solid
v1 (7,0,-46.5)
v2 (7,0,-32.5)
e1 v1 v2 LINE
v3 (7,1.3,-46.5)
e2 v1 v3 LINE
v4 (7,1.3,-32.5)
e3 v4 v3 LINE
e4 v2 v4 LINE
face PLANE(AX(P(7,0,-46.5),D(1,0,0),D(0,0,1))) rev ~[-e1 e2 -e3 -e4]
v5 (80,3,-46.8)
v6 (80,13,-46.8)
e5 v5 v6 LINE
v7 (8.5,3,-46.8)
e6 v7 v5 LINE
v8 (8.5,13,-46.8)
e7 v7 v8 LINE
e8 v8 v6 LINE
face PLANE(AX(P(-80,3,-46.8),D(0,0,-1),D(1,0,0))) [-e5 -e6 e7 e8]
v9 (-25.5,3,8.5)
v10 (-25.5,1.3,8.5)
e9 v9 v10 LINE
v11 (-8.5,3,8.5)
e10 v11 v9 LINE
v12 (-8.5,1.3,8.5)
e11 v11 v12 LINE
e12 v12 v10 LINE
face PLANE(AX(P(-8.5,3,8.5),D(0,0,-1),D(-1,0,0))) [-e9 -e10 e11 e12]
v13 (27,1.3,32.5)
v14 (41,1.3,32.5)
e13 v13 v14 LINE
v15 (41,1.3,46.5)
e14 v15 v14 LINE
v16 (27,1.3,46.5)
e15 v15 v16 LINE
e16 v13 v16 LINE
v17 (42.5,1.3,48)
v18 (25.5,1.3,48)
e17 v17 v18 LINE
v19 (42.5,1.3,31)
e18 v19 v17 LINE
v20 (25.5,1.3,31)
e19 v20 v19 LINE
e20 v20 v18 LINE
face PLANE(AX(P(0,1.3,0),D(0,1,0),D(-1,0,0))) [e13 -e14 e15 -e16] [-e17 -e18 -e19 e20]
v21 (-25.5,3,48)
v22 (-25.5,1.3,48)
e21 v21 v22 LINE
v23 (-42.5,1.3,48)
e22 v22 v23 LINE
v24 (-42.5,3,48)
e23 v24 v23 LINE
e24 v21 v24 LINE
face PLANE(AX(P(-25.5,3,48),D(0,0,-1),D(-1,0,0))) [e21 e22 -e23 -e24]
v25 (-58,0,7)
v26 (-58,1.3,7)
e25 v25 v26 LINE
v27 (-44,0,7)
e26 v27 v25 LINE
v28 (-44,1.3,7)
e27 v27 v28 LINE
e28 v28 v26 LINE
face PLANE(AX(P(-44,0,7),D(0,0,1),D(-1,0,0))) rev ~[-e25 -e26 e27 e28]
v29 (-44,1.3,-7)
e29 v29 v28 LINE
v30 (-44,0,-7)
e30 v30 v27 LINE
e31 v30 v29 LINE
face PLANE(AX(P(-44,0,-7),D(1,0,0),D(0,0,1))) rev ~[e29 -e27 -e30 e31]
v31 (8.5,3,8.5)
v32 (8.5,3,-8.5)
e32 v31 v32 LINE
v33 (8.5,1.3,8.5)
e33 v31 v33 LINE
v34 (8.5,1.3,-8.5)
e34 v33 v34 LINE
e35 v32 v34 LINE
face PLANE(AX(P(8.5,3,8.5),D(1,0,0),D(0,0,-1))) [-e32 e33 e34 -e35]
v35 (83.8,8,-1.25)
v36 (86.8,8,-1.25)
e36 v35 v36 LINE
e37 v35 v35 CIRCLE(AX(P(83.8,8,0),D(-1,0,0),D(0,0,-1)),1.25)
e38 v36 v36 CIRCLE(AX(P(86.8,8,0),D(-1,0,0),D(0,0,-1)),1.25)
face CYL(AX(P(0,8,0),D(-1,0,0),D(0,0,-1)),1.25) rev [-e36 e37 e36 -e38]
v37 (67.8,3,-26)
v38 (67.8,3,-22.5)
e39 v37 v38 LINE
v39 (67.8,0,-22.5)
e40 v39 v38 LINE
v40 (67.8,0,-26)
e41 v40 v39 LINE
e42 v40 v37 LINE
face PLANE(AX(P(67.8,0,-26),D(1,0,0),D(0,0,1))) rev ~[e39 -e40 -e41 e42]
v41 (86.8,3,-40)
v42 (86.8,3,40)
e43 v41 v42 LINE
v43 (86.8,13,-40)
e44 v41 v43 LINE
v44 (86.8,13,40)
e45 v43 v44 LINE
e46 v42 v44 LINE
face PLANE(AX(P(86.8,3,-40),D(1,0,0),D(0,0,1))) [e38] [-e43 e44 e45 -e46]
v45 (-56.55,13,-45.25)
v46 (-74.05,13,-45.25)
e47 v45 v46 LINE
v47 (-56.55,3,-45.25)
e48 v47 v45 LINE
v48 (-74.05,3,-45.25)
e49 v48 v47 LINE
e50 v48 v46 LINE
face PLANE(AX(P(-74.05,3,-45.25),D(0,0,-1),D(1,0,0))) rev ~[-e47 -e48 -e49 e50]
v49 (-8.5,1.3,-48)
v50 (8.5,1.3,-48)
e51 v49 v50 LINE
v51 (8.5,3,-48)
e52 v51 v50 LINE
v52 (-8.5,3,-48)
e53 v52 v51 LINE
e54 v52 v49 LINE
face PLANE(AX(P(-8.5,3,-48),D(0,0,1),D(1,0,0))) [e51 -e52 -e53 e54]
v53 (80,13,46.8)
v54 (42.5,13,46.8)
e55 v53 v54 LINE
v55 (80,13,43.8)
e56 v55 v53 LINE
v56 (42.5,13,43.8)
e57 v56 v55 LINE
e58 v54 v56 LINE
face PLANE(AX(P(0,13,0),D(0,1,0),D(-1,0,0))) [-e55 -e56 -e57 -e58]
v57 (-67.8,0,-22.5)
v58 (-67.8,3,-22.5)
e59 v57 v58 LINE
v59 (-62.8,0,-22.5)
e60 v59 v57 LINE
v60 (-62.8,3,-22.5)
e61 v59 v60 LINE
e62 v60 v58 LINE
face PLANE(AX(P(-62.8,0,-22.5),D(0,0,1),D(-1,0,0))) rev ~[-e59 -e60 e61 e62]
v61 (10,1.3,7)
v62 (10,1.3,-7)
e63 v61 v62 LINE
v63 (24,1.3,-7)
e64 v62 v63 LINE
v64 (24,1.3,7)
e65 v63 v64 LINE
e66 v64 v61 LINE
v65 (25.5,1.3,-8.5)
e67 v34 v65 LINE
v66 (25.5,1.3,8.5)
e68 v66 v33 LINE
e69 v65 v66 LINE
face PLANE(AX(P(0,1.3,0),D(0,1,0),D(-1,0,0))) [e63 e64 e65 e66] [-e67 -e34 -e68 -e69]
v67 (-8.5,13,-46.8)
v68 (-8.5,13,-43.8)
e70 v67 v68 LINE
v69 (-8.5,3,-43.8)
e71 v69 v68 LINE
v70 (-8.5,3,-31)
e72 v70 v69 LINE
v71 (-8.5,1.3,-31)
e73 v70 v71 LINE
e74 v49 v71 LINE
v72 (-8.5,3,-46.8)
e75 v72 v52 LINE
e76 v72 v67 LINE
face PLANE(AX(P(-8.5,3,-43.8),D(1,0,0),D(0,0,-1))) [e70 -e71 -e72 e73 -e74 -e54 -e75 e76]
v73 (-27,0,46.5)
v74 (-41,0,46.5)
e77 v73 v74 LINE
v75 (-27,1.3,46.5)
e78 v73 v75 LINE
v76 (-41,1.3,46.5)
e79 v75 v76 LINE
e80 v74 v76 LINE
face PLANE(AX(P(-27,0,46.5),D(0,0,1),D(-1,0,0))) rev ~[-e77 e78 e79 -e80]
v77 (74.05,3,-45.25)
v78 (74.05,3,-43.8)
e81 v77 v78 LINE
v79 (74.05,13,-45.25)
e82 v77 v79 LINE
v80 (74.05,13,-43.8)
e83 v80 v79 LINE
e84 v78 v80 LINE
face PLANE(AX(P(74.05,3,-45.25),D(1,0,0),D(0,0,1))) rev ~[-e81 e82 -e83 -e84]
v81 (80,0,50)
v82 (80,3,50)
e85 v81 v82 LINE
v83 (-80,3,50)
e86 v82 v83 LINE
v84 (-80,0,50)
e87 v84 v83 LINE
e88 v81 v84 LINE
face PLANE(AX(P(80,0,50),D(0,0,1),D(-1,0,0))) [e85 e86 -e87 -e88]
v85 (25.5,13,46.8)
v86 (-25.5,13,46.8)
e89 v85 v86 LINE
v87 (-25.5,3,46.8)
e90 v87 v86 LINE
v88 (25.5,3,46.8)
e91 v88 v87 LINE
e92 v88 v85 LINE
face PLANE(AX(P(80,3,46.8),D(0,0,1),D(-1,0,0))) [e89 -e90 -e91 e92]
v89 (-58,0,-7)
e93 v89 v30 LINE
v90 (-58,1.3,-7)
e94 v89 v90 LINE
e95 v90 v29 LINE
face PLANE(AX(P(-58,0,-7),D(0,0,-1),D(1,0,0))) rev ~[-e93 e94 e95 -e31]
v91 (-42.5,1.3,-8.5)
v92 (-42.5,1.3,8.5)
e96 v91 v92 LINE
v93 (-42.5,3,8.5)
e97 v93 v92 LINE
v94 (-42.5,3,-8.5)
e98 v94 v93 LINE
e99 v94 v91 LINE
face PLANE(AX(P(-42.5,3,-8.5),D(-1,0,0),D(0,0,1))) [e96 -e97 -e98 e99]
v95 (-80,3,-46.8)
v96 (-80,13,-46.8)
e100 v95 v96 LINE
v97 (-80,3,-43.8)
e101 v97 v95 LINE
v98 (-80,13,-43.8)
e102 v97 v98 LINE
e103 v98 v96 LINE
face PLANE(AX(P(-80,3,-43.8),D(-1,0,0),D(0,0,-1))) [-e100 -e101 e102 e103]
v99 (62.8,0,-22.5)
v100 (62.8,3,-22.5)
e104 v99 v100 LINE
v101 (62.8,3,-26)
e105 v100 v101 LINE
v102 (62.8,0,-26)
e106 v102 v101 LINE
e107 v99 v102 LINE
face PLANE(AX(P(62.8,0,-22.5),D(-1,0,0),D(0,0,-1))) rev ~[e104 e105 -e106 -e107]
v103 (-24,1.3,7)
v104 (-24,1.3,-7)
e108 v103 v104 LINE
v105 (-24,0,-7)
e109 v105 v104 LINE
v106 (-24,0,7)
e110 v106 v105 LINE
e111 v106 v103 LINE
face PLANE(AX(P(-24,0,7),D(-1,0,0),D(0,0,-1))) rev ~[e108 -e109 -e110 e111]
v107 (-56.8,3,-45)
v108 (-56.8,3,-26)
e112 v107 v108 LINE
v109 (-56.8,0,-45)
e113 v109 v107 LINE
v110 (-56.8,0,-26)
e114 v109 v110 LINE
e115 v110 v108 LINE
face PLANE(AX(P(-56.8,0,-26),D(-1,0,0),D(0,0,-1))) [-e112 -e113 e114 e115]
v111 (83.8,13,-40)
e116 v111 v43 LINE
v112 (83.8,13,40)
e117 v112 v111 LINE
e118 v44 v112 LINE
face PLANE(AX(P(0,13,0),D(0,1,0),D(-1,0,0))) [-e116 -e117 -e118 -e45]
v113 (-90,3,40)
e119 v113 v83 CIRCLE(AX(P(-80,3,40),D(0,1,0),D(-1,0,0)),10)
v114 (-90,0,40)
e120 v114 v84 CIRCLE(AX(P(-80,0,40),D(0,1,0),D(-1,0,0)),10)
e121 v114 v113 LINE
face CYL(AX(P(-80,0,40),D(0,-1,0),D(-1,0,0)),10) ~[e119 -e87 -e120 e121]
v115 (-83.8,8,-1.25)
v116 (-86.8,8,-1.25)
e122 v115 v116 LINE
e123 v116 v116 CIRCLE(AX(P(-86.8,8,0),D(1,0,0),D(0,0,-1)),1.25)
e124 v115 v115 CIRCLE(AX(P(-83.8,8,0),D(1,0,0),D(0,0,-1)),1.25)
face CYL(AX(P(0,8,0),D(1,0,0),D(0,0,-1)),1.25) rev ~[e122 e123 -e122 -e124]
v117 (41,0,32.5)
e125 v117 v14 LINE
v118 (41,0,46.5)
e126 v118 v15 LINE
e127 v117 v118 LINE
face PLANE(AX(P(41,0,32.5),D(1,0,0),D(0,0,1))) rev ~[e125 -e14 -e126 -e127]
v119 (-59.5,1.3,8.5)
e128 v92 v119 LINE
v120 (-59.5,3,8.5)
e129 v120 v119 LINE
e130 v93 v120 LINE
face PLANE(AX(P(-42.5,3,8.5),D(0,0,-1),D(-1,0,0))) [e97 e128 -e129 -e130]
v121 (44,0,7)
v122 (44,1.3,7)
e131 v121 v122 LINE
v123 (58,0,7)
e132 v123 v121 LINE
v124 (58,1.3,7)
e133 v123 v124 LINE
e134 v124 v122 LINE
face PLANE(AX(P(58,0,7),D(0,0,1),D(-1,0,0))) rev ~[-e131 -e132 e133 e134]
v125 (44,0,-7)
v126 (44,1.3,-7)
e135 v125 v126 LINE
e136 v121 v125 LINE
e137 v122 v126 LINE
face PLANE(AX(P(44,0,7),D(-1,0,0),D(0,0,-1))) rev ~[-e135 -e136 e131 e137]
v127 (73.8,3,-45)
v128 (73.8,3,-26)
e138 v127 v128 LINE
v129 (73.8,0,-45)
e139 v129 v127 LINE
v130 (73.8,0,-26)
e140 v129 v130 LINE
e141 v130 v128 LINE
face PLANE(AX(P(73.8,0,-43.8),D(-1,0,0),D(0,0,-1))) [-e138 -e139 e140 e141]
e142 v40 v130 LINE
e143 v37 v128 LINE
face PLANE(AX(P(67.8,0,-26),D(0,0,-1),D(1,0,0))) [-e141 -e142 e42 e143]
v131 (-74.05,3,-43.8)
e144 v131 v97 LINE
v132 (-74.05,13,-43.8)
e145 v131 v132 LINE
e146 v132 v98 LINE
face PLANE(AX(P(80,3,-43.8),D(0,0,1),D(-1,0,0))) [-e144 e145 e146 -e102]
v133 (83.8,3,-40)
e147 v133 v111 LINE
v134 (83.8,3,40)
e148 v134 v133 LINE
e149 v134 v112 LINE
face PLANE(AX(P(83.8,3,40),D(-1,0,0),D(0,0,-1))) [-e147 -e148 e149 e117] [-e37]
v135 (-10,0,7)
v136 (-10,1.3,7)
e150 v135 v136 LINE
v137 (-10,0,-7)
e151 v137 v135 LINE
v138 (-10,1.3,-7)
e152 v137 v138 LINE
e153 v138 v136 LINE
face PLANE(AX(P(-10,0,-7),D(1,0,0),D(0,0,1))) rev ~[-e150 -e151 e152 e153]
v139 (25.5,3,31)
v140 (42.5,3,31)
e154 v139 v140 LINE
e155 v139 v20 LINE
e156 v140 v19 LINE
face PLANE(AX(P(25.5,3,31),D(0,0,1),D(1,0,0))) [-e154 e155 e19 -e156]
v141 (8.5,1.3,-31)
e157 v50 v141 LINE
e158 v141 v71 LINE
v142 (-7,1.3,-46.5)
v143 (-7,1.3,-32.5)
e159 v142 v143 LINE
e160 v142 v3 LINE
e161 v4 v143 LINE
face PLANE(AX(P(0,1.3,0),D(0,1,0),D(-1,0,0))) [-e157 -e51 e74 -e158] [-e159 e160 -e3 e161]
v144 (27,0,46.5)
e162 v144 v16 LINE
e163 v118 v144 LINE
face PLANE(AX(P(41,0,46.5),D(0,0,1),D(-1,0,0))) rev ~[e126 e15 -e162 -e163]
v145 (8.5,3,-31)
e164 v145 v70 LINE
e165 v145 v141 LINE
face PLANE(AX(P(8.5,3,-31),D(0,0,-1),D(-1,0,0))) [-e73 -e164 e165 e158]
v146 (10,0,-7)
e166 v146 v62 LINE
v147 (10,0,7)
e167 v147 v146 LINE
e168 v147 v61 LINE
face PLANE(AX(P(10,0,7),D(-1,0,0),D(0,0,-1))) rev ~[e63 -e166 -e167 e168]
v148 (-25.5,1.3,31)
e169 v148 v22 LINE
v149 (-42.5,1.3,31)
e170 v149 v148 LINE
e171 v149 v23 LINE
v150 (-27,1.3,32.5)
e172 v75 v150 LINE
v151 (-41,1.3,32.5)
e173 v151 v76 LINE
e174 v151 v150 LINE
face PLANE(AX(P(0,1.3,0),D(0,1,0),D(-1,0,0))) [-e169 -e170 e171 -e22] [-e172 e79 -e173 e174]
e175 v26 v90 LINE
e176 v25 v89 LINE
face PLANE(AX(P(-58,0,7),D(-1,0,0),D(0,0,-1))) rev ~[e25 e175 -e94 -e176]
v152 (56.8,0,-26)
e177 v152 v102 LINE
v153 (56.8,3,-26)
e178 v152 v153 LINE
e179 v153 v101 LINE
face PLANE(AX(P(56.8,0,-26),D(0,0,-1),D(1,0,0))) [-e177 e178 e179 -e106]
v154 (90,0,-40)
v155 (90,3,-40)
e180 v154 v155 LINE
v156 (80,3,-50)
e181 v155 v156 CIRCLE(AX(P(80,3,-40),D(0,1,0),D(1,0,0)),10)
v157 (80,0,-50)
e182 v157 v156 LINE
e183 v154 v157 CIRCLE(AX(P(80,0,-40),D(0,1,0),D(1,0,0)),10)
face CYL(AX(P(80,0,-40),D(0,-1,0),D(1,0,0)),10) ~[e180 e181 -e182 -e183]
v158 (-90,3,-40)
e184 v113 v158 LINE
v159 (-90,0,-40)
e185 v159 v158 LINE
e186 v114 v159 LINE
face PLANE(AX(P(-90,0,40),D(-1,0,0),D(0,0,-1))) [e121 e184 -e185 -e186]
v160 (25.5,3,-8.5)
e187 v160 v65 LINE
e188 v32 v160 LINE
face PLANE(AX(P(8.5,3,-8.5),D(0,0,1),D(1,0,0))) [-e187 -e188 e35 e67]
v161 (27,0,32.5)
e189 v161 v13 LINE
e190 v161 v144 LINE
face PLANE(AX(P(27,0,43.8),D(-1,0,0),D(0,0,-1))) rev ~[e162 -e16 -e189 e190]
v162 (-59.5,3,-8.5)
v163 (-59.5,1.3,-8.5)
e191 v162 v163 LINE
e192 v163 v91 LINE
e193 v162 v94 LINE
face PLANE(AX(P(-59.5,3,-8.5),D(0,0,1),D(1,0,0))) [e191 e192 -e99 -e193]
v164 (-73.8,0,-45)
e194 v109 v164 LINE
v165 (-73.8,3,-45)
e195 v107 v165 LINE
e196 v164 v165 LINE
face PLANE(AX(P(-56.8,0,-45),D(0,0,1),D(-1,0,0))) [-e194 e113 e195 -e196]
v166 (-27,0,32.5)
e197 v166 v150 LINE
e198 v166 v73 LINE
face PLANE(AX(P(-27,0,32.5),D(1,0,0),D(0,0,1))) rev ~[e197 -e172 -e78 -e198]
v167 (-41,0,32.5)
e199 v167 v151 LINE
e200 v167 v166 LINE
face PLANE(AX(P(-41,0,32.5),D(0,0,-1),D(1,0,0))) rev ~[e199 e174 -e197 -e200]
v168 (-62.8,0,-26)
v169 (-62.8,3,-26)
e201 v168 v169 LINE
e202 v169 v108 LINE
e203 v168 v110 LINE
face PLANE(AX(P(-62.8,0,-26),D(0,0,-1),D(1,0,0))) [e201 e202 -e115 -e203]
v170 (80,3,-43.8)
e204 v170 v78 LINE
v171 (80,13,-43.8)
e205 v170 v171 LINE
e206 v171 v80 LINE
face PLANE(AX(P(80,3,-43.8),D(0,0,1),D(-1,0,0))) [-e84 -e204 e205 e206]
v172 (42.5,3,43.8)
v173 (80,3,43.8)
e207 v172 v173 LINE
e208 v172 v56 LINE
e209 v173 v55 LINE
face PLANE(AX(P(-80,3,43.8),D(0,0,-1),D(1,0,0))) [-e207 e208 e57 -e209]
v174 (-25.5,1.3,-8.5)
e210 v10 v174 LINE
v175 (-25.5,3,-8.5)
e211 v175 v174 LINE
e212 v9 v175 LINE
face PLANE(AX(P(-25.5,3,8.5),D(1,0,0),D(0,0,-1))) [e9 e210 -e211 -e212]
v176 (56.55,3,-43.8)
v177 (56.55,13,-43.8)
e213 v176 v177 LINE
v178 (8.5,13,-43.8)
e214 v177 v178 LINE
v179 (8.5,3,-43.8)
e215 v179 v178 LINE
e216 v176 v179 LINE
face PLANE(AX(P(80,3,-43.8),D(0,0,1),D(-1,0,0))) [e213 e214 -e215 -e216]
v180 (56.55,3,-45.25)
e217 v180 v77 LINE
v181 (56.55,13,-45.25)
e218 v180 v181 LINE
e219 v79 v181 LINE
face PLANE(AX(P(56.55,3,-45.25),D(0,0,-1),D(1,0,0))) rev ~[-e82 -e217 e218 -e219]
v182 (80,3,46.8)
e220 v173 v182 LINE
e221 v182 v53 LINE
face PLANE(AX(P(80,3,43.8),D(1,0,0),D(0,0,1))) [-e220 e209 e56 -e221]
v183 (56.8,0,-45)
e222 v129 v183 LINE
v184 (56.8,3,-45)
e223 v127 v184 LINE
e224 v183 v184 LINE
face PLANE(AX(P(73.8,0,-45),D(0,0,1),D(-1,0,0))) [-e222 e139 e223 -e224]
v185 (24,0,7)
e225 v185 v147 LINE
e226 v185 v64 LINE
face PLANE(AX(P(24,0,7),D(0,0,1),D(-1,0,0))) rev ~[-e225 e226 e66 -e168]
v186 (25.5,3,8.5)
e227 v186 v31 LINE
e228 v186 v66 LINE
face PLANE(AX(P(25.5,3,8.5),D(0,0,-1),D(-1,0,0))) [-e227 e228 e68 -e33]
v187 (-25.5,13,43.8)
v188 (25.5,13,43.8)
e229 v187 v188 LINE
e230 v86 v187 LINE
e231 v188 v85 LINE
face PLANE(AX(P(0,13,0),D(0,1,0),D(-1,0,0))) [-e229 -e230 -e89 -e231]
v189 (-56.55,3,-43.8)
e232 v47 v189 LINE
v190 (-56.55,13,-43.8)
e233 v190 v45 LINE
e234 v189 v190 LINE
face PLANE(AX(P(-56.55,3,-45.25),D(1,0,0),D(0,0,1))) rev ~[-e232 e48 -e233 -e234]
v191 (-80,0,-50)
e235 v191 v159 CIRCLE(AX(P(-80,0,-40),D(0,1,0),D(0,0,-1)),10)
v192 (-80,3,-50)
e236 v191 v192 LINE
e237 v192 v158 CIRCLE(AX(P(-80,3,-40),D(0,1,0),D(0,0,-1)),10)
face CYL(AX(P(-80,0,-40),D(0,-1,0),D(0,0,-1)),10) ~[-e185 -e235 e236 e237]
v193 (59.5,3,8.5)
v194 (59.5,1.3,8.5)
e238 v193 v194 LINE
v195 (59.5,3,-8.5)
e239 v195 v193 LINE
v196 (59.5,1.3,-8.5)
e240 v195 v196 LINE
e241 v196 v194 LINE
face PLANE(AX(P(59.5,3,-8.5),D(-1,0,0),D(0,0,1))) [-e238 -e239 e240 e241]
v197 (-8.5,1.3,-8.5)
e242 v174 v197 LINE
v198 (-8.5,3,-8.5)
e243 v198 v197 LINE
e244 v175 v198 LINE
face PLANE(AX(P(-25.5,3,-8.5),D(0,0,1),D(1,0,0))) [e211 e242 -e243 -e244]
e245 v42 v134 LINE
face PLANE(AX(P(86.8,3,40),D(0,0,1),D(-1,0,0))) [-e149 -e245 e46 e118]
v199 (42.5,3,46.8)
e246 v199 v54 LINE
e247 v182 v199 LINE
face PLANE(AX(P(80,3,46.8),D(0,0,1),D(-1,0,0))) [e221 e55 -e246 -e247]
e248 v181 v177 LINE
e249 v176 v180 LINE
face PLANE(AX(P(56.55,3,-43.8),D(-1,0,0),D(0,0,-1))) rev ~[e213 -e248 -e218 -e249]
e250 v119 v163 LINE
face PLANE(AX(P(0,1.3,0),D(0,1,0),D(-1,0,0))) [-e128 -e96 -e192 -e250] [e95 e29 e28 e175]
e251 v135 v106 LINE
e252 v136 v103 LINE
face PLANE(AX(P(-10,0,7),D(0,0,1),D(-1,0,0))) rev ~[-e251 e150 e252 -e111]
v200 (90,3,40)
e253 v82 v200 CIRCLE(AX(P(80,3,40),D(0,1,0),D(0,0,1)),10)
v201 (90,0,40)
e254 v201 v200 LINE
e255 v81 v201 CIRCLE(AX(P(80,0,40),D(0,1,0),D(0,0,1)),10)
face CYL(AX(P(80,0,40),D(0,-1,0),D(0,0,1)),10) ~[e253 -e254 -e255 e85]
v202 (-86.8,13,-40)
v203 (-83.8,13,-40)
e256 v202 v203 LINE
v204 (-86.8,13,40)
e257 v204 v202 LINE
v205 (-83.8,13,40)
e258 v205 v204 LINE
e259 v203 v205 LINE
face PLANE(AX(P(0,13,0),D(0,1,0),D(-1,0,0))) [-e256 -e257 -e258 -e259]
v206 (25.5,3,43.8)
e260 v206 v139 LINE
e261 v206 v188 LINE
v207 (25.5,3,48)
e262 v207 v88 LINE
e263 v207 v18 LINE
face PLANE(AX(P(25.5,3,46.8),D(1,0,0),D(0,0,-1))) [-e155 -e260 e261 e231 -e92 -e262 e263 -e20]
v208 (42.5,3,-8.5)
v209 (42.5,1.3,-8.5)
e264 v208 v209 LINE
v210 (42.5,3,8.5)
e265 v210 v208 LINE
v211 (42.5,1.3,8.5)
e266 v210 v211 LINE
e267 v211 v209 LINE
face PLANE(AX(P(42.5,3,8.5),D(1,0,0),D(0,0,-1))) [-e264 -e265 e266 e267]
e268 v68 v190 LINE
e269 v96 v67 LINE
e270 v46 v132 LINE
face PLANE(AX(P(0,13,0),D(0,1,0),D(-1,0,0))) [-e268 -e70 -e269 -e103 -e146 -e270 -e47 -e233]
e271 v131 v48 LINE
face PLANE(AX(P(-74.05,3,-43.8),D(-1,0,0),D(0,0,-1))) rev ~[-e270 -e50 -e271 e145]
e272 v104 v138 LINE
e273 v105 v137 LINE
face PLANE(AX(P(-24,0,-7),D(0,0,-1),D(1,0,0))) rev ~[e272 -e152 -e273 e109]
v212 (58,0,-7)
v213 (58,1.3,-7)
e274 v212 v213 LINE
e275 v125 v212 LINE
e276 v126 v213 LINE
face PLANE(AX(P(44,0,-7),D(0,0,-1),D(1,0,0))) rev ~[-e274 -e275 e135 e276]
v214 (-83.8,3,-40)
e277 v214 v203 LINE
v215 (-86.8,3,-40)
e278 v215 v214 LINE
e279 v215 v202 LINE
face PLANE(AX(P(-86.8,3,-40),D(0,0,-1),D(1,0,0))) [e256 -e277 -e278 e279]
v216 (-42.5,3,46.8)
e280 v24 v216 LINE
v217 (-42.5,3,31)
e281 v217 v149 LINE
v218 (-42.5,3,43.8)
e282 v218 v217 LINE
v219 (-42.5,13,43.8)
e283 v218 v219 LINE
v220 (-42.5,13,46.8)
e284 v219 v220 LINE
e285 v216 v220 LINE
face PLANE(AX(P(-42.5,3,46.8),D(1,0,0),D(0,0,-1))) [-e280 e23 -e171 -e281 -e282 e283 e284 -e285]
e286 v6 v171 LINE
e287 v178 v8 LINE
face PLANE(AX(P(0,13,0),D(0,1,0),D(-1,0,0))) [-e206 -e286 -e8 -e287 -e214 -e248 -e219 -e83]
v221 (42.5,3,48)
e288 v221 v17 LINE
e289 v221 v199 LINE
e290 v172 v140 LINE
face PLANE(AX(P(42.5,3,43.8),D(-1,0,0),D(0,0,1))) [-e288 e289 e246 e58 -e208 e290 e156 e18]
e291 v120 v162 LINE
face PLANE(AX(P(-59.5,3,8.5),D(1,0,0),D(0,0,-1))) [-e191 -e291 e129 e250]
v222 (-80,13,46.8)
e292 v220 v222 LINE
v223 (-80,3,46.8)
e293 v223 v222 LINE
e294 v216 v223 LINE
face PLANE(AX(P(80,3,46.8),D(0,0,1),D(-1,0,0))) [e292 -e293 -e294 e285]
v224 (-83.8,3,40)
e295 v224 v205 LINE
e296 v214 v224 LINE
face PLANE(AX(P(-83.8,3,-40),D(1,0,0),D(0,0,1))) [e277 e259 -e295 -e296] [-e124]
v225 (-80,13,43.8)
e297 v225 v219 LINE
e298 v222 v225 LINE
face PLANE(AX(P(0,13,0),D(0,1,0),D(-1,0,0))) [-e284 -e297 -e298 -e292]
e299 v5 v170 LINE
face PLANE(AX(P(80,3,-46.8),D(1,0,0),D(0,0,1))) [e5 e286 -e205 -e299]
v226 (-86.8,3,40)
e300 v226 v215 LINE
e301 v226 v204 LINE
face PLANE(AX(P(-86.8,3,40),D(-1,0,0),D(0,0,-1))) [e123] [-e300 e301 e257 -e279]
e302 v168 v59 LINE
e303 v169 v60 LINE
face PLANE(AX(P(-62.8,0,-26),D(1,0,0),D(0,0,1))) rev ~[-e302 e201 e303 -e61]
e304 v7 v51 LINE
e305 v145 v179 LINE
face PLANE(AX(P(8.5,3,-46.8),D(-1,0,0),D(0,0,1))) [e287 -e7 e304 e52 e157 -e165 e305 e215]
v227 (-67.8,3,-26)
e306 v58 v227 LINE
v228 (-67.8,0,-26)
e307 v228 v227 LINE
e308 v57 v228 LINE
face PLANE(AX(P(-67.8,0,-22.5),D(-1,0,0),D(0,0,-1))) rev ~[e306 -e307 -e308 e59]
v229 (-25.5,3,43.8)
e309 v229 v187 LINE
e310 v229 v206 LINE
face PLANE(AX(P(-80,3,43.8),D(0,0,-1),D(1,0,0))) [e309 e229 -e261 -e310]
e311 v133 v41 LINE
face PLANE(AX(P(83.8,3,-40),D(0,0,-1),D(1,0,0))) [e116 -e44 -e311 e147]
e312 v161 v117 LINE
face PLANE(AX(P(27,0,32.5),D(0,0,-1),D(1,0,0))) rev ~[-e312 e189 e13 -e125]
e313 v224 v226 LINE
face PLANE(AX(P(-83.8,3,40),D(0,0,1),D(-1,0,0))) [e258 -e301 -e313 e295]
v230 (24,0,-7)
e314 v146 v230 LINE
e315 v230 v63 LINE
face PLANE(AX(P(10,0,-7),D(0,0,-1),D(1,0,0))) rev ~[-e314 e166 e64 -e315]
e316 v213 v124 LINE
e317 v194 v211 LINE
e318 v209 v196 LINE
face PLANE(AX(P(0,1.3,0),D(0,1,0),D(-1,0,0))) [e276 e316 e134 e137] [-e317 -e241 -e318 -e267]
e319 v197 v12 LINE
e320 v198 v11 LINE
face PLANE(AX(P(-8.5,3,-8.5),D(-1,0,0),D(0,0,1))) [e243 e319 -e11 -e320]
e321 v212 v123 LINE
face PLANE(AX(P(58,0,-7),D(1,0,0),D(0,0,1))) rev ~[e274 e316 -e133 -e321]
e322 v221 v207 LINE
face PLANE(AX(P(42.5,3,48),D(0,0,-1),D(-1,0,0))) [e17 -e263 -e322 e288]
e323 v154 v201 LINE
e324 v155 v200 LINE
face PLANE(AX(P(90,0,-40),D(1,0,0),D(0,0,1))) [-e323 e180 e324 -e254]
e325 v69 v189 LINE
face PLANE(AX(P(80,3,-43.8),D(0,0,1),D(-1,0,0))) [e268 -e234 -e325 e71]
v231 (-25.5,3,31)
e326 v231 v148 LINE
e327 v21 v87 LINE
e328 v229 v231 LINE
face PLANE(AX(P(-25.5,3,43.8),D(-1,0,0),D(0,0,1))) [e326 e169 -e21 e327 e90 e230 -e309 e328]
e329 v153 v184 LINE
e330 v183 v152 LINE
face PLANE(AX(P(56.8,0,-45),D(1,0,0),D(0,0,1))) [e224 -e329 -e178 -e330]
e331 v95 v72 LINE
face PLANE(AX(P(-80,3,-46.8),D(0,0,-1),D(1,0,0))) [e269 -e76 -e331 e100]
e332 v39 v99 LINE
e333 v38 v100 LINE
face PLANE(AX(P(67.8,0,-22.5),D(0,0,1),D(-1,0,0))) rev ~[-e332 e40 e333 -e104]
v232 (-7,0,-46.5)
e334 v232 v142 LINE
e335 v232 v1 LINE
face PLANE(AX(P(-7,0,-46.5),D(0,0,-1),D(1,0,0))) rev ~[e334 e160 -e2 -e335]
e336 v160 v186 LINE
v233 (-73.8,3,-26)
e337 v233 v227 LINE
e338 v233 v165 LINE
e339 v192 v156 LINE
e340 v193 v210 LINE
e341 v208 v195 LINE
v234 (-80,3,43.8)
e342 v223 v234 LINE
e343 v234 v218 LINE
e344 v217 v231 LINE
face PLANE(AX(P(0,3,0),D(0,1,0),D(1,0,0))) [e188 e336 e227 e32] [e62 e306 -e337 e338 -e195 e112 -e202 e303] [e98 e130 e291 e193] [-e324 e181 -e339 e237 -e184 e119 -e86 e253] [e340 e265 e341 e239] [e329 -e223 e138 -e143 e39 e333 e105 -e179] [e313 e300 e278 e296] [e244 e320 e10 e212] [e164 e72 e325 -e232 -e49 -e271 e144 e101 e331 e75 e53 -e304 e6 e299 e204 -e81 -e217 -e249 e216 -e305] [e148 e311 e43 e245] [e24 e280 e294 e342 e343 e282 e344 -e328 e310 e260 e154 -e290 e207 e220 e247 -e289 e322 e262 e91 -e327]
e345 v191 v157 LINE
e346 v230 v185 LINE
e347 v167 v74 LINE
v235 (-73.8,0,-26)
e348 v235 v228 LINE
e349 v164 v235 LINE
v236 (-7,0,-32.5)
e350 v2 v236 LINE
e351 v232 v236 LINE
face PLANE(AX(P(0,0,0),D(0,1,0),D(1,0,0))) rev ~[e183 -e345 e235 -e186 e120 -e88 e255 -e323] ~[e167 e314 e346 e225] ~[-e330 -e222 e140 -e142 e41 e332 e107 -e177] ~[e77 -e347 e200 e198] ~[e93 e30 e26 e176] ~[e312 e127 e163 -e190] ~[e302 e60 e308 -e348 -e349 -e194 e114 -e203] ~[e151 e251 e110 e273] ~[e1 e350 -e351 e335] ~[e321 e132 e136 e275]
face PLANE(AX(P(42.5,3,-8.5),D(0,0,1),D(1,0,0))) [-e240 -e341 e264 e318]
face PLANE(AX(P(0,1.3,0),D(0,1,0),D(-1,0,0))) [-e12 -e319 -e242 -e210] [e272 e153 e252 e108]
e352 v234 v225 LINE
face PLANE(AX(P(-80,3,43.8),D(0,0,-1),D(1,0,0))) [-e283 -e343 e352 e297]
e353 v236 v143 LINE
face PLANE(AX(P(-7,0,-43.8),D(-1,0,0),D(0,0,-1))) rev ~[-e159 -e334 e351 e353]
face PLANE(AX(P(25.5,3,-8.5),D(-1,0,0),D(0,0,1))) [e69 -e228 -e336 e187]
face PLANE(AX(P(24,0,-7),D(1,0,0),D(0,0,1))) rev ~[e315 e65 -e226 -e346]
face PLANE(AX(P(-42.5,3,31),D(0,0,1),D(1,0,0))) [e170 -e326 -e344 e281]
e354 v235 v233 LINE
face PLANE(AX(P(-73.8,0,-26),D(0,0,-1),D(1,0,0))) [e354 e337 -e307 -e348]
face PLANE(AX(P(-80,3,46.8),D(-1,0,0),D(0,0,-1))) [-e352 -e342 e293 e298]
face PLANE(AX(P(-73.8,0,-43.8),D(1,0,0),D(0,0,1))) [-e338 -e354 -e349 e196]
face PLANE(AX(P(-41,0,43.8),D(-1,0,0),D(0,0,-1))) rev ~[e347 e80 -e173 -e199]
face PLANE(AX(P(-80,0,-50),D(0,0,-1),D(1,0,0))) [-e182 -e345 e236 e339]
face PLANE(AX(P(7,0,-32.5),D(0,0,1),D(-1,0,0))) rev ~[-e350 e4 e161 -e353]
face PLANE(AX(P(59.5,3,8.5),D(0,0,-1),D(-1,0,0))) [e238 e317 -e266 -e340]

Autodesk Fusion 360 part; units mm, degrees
sketch "Top" plane through (0, 0, 0) normal (0, 1, 0) x (1, 0, 0)
  line L0 (-80, 50) -> (80, 50)
  line L1 (90, 40) -> (90, -40)
  line L2 (80, -50) -> (-80, -50)
  line L3 (-90, -40) -> (-90, 40)
  line L4 (-90, 50) -> (90, -50) construction
  line L5 (90, 50) -> (-90, -50) construction
  arc A0 (-80, 50) -> (-90, 40) centre (-80, 40) ccw
  arc A1 (90, 40) -> (80, 50) centre (80, 40) ccw
  arc A2 (80, -50) -> (90, -40) centre (80, -40) ccw
  arc A3 (-90, -40) -> (-80, -50) centre (-80, -40) ccw
  dimension "d310" = 180
  dimension "d311" = 100
  dimension "d312" = 10
extrude "Extrude37" add sketch "Top" along normal blind 3
sketch "Tabs" plane through (0, 3, 0) normal (0, 1, 0) x (-1, 0, 0)
  arc A0 (80, -50) -> (90, -40) centre (80, -40) ccw
  line L0 (90, -40) -> (90, 40)
  arc A1 (90, 40) -> (80, 50) centre (80, 40) ccw
  line L1 (80, 50) -> (-80, 50)
  arc A2 (-80, 50) -> (-90, 40) centre (-80, 40) ccw
  line L2 (-90, 40) -> (-90, -40)
  arc A3 (-90, -40) -> (-80, -50) centre (-80, -40) ccw
  line L3 (-80, -50) -> (80, -50)
  line L4 (86.8, -40) -> (83.8, -40)
  line L5 (83.8, -40) -> (83.8, 40)
  line L6 (83.8, 40) -> (86.8, 40)
  line L7 (86.8, 40) -> (86.8, -40)
  line L8 (86.8, -40) -> (83.8, 40) construction
  line L9 (83.8, -40) -> (86.8, 40) construction
  line L10 (80, -46.8) -> (-80, -46.8)
  line L11 (-80, -46.8) -> (-80, -43.8)
  line L12 (-80, -43.8) -> (80, -43.8)
  line L13 (80, -43.8) -> (80, -46.8)
  line L14 (80, -46.8) -> (-80, -43.8) construction
  line L15 (-80, -46.8) -> (80, -43.8) construction
  line L16 (80, 43.8) -> (-80, 43.8)
  line L17 (-80, 43.8) -> (-80, 46.8)
  line L18 (-80, 46.8) -> (80, 46.8)
  line L19 (80, 46.8) -> (80, 43.8)
  line L20 (80, 43.8) -> (-80, 46.8) construction
  line L21 (-80, 43.8) -> (80, 46.8) construction
  line L22 (-83.8, -40) -> (-86.8, -40)
  line L23 (-86.8, -40) -> (-86.8, 40)
  line L24 (-86.8, 40) -> (-83.8, 40)
  line L25 (-83.8, 40) -> (-83.8, -40)
  line L26 (-83.8, -40) -> (-86.8, 40) construction
  line L27 (-86.8, -40) -> (-83.8, 40) construction
  point P0 (85.3, 0)
  point P1 (0, -45.3)
  point P2 (0, 45.3)
  point P3 (-85.3, 0)
  dimension "d315" = 3
  dimension "d316" = 10
  dimension "d317" = 10
  dimension "d318" = 3.2
  dimension "d319" = 3
  dimension "d320" = 10
  dimension "d321" = 10
  dimension "d322" = 3.2
  dimension "d324" = 3
  dimension "d325" = 10
  dimension "d326" = 10
  dimension "d327" = 3
  dimension "d329" = 10
  dimension "d330" = 10
  dimension "d333" = 3.2
  dimension "d334" = 3.2
extrude "Extrude38" add sketch "Tabs" along normal blind 10 contours L4 L5 L6 L7 | L10 L11 L12 L13 | L16 L17 L18 L19 | L22 L23 L24 L25
sketch "Switches" plane through (0, 3, 0) normal (0, 1, 0) x (-1, 0, 0)
  line L0 (86.8, 40) -> (86.8, -40)
  line L1 (86.8, -40) -> (83.8, -40)
  line L2 (83.8, -40) -> (83.8, 40)
  line L3 (83.8, 40) -> (86.8, 40)
  line L4 (80, -43.8) -> (80, -46.8)
  line L5 (80, -46.8) -> (-80, -46.8)
  line L6 (-80, -46.8) -> (-80, -43.8)
  line L7 (-80, -43.8) -> (80, -43.8)
  line L8 (80, 46.8) -> (80, 43.8)
  line L9 (80, 43.8) -> (-80, 43.8)
  line L10 (-80, 43.8) -> (-80, 46.8)
  line L11 (-80, 46.8) -> (80, 46.8)
  line L12 (-83.8, 40) -> (-83.8, -40)
  line L13 (-83.8, -40) -> (-86.8, -40)
  line L14 (-86.8, -40) -> (-86.8, 40)
  line L15 (-86.8, 40) -> (-83.8, 40)
  arc A0 (80, -50) -> (90, -40) centre (80, -40) ccw
  line L16 (90, -40) -> (90, 40)
  arc A1 (90, 40) -> (80, 50) centre (80, 40) ccw
  line L17 (80, 50) -> (-80, 50)
  arc A2 (-80, 50) -> (-90, 40) centre (-80, 40) ccw
  line L18 (-90, 40) -> (-90, -40)
  arc A3 (-90, -40) -> (-80, -50) centre (-80, -40) ccw
  line L19 (-80, -50) -> (80, -50)
  line L20 (-59.5, 8.5) -> (-42.5, 8.5)
  line L21 (-42.5, 8.5) -> (-42.5, -8.5)
  line L22 (-58, -7) -> (-58, 7)
  line L23 (-42.5, -8.5) -> (-59.5, -8.5)
  line L24 (-44, 7) -> (-44, -7)
  line L25 (-58, 7) -> (-44, 7)
  line L26 (-44, -7) -> (-58, 7) construction
  line L27 (-59.5, -8.5) -> (-59.5, 8.5)
  line L28 (-59.5, -8.5) -> (-42.5, 8.5) construction
  line L29 (-58, -7) -> (-44, 7) construction
  line L30 (-42.5, -8.5) -> (-59.5, 8.5) construction
  line L31 (-44, -7) -> (-58, -7)
  line L32 (24, 7) -> (24, -7)
  line L33 (8.5, -8.5) -> (8.5, 8.5)
  line L34 (25.5, -8.5) -> (8.5, 8.5) construction
  line L35 (10, 7) -> (24, 7)
  line L36 (24, -7) -> (10, 7) construction
  line L37 (8.5, -8.5) -> (25.5, 8.5) construction
  line L38 (10, -7) -> (24, 7) construction
  line L39 (24, -7) -> (10, -7)
  line L40 (25.5, 8.5) -> (25.5, -8.5)
  line L41 (10, -7) -> (10, 7)
  line L42 (25.5, -8.5) -> (8.5, -8.5)
  line L43 (8.5, 8.5) -> (25.5, 8.5)
  line L44 (-27, 32.5) -> (-41, 46.5) construction
  line L45 (-41, 46.5) -> (-27, 46.5)
  line L46 (-25.5, 31) -> (-42.5, 31)
  line L47 (-42.5, 48) -> (-25.5, 48)
  line L48 (-41, 32.5) -> (-41, 46.5)
  line L49 (-25.5, 48) -> (-25.5, 31)
  line L50 (-42.5, 31) -> (-42.5, 48)
  line L51 (-25.5, 31) -> (-42.5, 48) construction
  line L52 (-27, 32.5) -> (-41, 32.5)
  line L53 (-41, 32.5) -> (-27, 46.5) construction
  line L54 (-42.5, 31) -> (-25.5, 48) construction
  line L55 (-27, 46.5) -> (-27, 32.5)
  line L56 (25.5, 31) -> (42.5, 48) construction
  line L57 (27, 46.5) -> (41, 46.5)
  line L58 (42.5, 48) -> (42.5, 31)
  line L59 (27, 32.5) -> (41, 46.5) construction
  line L60 (41, 32.5) -> (27, 32.5)
  line L61 (25.5, 31) -> (25.5, 48)
  line L62 (41, 46.5) -> (41, 32.5)
  line L63 (25.5, 48) -> (42.5, 48)
  line L64 (42.5, 31) -> (25.5, 48) construction
  line L65 (42.5, 31) -> (25.5, 31)
  line L66 (27, 32.5) -> (27, 46.5)
  line L67 (41, 32.5) -> (27, 46.5) construction
  line L68 (-8.5, -48) -> (-8.5, -31)
  line L69 (-7, -46.5) -> (-7, -32.5)
  line L70 (7, -32.5) -> (7, -46.5)
  line L71 (-7, -46.5) -> (7, -32.5) construction
  line L72 (8.5, -31) -> (8.5, -48)
  line L73 (8.5, -48) -> (-8.5, -48)
  line L74 (7, -46.5) -> (-7, -32.5) construction
  line L75 (8.5, -48) -> (-8.5, -31) construction
  line L76 (-8.5, -48) -> (8.5, -31) construction
  line L77 (-8.5, -31) -> (8.5, -31)
  line L78 (7, -46.5) -> (-7, -46.5)
  line L79 (-7, -32.5) -> (7, -32.5)
  line L80 (42.5, -8.5) -> (42.5, 8.5)
  line L81 (44, 7) -> (58, 7)
  line L82 (42.5, 8.5) -> (59.5, 8.5)
  line L83 (59.5, -8.5) -> (42.5, -8.5)
  line L84 (58, -7) -> (44, -7)
  line L85 (58, 7) -> (58, -7)
  line L86 (42.5, -8.5) -> (59.5, 8.5) construction
  line L87 (59.5, -8.5) -> (42.5, 8.5) construction
  line L88 (44, -7) -> (44, 7)
  line L89 (44, -7) -> (58, 7) construction
  line L90 (58, -7) -> (44, 7) construction
  line L91 (59.5, 8.5) -> (59.5, -8.5)
  line L92 (-25.5, 8.5) -> (-8.5, 8.5)
  line L93 (-25.5, -8.5) -> (-8.5, 8.5) construction
  line L94 (-25.5, -8.5) -> (-25.5, 8.5)
  line L95 (-10, 7) -> (-10, -7)
  line L96 (-10, -7) -> (-24, -7)
  line L97 (-8.5, -8.5) -> (-25.5, 8.5) construction
  line L98 (-24, -7) -> (-10, 7) construction
  line L99 (-8.5, -8.5) -> (-25.5, -8.5)
  line L100 (-24, -7) -> (-24, 7)
  line L101 (-10, -7) -> (-24, 7) construction
  line L102 (-8.5, 8.5) -> (-8.5, -8.5)
  line L103 (-24, 7) -> (-10, 7)
  line L104 (80, 50) -> (-80, 50)
  point P0 (-51, 0)
  point P1 (17, 0)
  point P2 (-34, 39.5)
  point P3 (34, 39.5)
  point P4 (0, -39.5)
  point P5 (51, 0)
  point P6 (-17, 0)
  dimension "d345" = 14
  dimension "d346" = 14
  dimension "d347" = 1.5
  dimension "d348" = 1.5
  dimension "d349" = 1.5
  dimension "d350" = 1.5
  dimension "d363" = 14
  dimension "d364" = 14
  dimension "d365" = 1.5
  dimension "d366" = 1.5
  dimension "d367" = 1.5
  dimension "d368" = 1.5
  dimension "d369" = 14
  dimension "d370" = 14
  dimension "d371" = 1.5
  dimension "d372" = 1.5
  dimension "d373" = 1.5
  dimension "d374" = 1.5
  dimension "d375" = 14
  dimension "d376" = 14
  dimension "d377" = 1.5
  dimension "d378" = 1.5
  dimension "d379" = 1.5
  dimension "d380" = 1.5
  dimension "d381" = 14
  dimension "d382" = 14
  dimension "d383" = 1.5
  dimension "d384" = 1.5
  dimension "d385" = 1.5
  dimension "d386" = 1.5
  dimension "d387" = 14
  dimension "d388" = 14
  dimension "d389" = 1.5
  dimension "d390" = 1.5
  dimension "d391" = 1.5
  dimension "d392" = 1.5
  dimension "d393" = 14
  dimension "d394" = 14
  dimension "d395" = 1.5
  dimension "d396" = 1.5
  dimension "d397" = 1.5
  dimension "d398" = 1.5
  dimension "d406" = 34
  dimension "d407" = 34
  dimension "d408" = 34
  dimension "d409" = 17
  dimension "d445" = 2
  dimension "d446" = 2
  dimension "d447" = 2
  dimension "d460" = 17
  dimension "d461" = 17
extrude "Extrude40" cut sketch "Switches" against normal blind 1.7 contours L5 L7 L68 L69 L70 L72 L78 | L7 L68 L69 L70 L72 L77 L79 | L5 L68 L72 L73 | L9 L11 L57 L58 L61 L62 L66 | L11 L58 L61 L63 | L9 L58 L60 L61 L62 L65 L66 | L9 L11 L45 L48 L49 L50 L55 | L11 L47 L49 L50 | L9 L46 L48 L49 L50 L52 L55 | L20 L21 L23 L27 | L33 L40 L42 L43 | L80 L82 L83 L91 | L92 L94 L99 L102
extrude "Extrude41" cut sketch "Switches" along normal blind 3 from surface at -3 contours L7 L69 L70 L78 | L7 L69 L70 L79 | L9 L60 L62 L66 | L9 L57 L62 L66 | L9 L48 L52 L55 | L9 L45 L48 L55 | L22 L24 L25 L31 | L32 L35 L39 L41 | L81 L84 L85 L88 | L95 L96 L100 L103
sketch "Tab Holes" plane through (0, 0, 0) normal (1, 0, 0) x (0, 0, -1)
  circle A0 centre (0, 8) radius 1.25
  line L0 (-40, 3) -> (40, 3)
  dimension "d418" = 2.5
  dimension "d419" = 5
extrude "Extrude42" cut sketch "Tab Holes" along normal through all and the other way through all
sketch "Encoders" plane through (0, 3, 0) normal (0, 1, 0) x (-1, 0, 0)
  line L0 (73.8, -26) -> (56.8, -26)
  line L1 (56.8, -26) -> (56.8, -45)
  line L2 (56.8, -45) -> (73.8, -45)
  line L3 (73.8, -45) -> (73.8, -26)
  line L4 (73.8, -26) -> (56.8, -45) construction
  line L5 (56.8, -26) -> (73.8, -45) construction
  line L6 (67.8, -26) -> (62.8, -26)
  line L7 (62.8, -26) -> (62.8, -22.5)
  line L8 (62.8, -22.5) -> (67.8, -22.5)
  line L9 (67.8, -22.5) -> (67.8, -26)
  arc A0 (80, -50) -> (90, -40) centre (80, -40) ccw
  line L10 (90, -40) -> (90, 40)
  arc A1 (90, 40) -> (80, 50) centre (80, 40) ccw
  line L11 (80, 50) -> (-80, 50)
  arc A2 (-80, 50) -> (-90, 40) centre (-80, 40) ccw
  line L12 (-90, 40) -> (-90, -40)
  arc A3 (-90, -40) -> (-80, -50) centre (-80, -40) ccw
  line L13 (-80, -50) -> (80, -50)
  line L14 (-83.8, 40) -> (-83.8, -40)
  line L15 (-83.8, -40) -> (-86.8, -40)
  line L16 (-86.8, -40) -> (-86.8, 40)
  line L17 (-86.8, 40) -> (-83.8, 40)
  line L18 (80, 46.8) -> (80, 43.8)
  line L19 (80, 43.8) -> (42.5, 43.8)
  line L20 (-80, 43.8) -> (-80, 46.8)
  line L21 (-25.5, 46.8) -> (25.5, 46.8)
  line L22 (80, -43.8) -> (80, -46.8)
  line L23 (-8.5, -46.8) -> (-80, -46.8)
  line L24 (-80, -46.8) -> (-80, -43.8)
  line L25 (-80, -43.8) -> (-8.5, -43.8)
  line L26 (86.8, 40) -> (86.8, -40)
  line L27 (86.8, -40) -> (83.8, -40)
  line L28 (83.8, -40) -> (83.8, 40)
  line L29 (83.8, 40) -> (86.8, 40)
  line L30 (25.5, 48) -> (42.5, 48)
  line L31 (42.5, 48) -> (42.5, 46.8)
  line L32 (42.5, 31) -> (25.5, 31)
  line L33 (25.5, 46.8) -> (25.5, 48)
  line L34 (8.5, -48) -> (-8.5, -48)
  line L35 (-8.5, -48) -> (-8.5, -46.8)
  line L36 (-8.5, -31) -> (8.5, -31)
  line L37 (8.5, -31) -> (8.5, -43.8)
  line L38 (25.5, -8.5) -> (8.5, -8.5)
  line L39 (8.5, -8.5) -> (8.5, 8.5)
  line L40 (8.5, 8.5) -> (25.5, 8.5)
  line L41 (25.5, 8.5) -> (25.5, -8.5)
  line L42 (-25.5, 48) -> (-25.5, 46.8)
  line L43 (-25.5, 31) -> (-42.5, 31)
  line L44 (-42.5, 46.8) -> (-42.5, 48)
  line L45 (-42.5, 48) -> (-25.5, 48)
  line L46 (-25.5, -8.5) -> (-25.5, 8.5)
  line L47 (-25.5, 8.5) -> (-8.5, 8.5)
  line L48 (-8.5, 8.5) -> (-8.5, -8.5)
  line L49 (-8.5, -8.5) -> (-25.5, -8.5)
  line L50 (42.5, -8.5) -> (42.5, 8.5)
  line L51 (42.5, 8.5) -> (59.5, 8.5)
  line L52 (59.5, 8.5) -> (59.5, -8.5)
  line L53 (59.5, -8.5) -> (42.5, -8.5)
  line L54 (-42.5, 8.5) -> (-42.5, -8.5)
  line L55 (-42.5, -8.5) -> (-59.5, -8.5)
  line L56 (-59.5, -8.5) -> (-59.5, 8.5)
  line L57 (-59.5, 8.5) -> (-42.5, 8.5)
  line L58 (-56.8, -26) -> (-73.8, -26)
  line L59 (-67.8, -22.5) -> (-62.8, -22.5)
  line L60 (-73.8, -45) -> (-56.8, -45)
  line L61 (-67.8, -26) -> (-67.8, -22.5)
  line L62 (-73.8, -26) -> (-73.8, -45)
  line L63 (-62.8, -22.5) -> (-62.8, -26)
  line L64 (-56.8, -26) -> (-73.8, -45) construction
  line L65 (-73.8, -26) -> (-56.8, -45) construction
  line L66 (-56.8, -45) -> (-56.8, -26)
  line L67 (-62.8, -26) -> (-67.8, -26)
  line L68 (42.5, 46.8) -> (80, 46.8)
  line L69 (42.5, 43.8) -> (42.5, 31)
  line L70 (25.5, 31) -> (25.5, 43.8)
  line L71 (25.5, 43.8) -> (-25.5, 43.8)
  line L72 (-25.5, 43.8) -> (-25.5, 31)
  line L73 (-42.5, 31) -> (-42.5, 43.8)
  line L74 (-42.5, 43.8) -> (-80, 43.8)
  line L75 (-80, 46.8) -> (-42.5, 46.8)
  line L76 (-8.5, -43.8) -> (-8.5, -31)
  line L77 (8.5, -43.8) -> (80, -43.8)
  line L78 (80, -46.8) -> (8.5, -46.8)
  line L79 (8.5, -46.8) -> (8.5, -48)
  line L80 (74.05, -45.25) -> (56.55, -45.25)
  line L81 (56.55, -45.25) -> (56.55, -43.8)
  line L82 (56.55, -43.8) -> (74.05, -43.8)
  line L83 (74.05, -43.8) -> (74.05, -45.25)
  line L84 (-74.05, -43.8) -> (-56.55, -43.8)
  line L85 (-56.55, -43.8) -> (-56.55, -45.25)
  line L86 (-56.55, -45.25) -> (-74.05, -45.25)
  line L87 (-74.05, -45.25) -> (-74.05, -43.8)
  point P0 (65.3, -35.5)
  point P1 (-65.3, -35.5)
  dimension "d421" = 17
  dimension "d422" = 19
  dimension "d423" = 5
  dimension "d424" = 3.5
  dimension "d425" = 2.5
  dimension "d431" = 17
  dimension "d432" = 19
  dimension "d433" = 5
  dimension "d434" = 3.5
  dimension "d435" = 2.5
  dimension "d437" = 10
  dimension "d439" = 10
  dimension "d443" = 5
  dimension "d444" = 5
  dimension "d462" = 17.5
  dimension "d463" = 0.25
  dimension "d465" = 0.25
  dimension "d467" = 1.45
  dimension "d469" = 17.5
  dimension "d470" = 1.45
  dimension "d471" = 0.25
extrude "Extrude43" cut sketch "Encoders" along normal blind 3 from surface at -3 contours L0 L1 L3 L6 L77 L82 | L0 L6 L7 L8 L9 | L1 L2 L3 L77 L82
extrude "Extrude44" cut sketch "Encoders" along normal blind 3 from surface at -3 contours L25 L60 L62 L66 L84 | L25 L58 L62 L66 L67 L84 | L58 L59 L61 L63 L67
extrude "Extrude47" cut sketch "Switches" along normal through all contours L9 L11 L45 L48 L49 L50 L55 | L9 L45 L48 L55
extrude "Extrude48" cut sketch "Switches" along normal through all contours L9 L11 L57 L58 L61 L62 L66 | L9 L57 L62 L66
extrude "Extrude49" cut sketch "Switches" along normal through all contours L5 L7 L68 L69 L70 L72 L78 | L7 L69 L70 L78
extrude "Extrude50" cut sketch "Encoders" along normal through all contours L1 L2 L3 L77 L80 L81 L82 L83 | L1 L2 L3 L77 L82
extrude "Extrude51" cut sketch "Encoders" along normal through all contours L25 L60 L62 L66 L84 L85 L86 L87 | L25 L60 L62 L66 L84
equation "d409 = ( 34 / 2 ) * 1 mm"
equation "d413 = -( 3 mm - 1.3 mm )"
equation "d419 = ( 10 / 2 ) * 1 mm"
equation "d425 = ( 5 / 2 ) * 1 mm"
equation "d435 = ( 5 / 2 ) * 1 mm"
equation "d460 = ( 34 / 2 ) * 1 mm"
equation "d461 = ( 34 / 2 ) * 1 mm"
